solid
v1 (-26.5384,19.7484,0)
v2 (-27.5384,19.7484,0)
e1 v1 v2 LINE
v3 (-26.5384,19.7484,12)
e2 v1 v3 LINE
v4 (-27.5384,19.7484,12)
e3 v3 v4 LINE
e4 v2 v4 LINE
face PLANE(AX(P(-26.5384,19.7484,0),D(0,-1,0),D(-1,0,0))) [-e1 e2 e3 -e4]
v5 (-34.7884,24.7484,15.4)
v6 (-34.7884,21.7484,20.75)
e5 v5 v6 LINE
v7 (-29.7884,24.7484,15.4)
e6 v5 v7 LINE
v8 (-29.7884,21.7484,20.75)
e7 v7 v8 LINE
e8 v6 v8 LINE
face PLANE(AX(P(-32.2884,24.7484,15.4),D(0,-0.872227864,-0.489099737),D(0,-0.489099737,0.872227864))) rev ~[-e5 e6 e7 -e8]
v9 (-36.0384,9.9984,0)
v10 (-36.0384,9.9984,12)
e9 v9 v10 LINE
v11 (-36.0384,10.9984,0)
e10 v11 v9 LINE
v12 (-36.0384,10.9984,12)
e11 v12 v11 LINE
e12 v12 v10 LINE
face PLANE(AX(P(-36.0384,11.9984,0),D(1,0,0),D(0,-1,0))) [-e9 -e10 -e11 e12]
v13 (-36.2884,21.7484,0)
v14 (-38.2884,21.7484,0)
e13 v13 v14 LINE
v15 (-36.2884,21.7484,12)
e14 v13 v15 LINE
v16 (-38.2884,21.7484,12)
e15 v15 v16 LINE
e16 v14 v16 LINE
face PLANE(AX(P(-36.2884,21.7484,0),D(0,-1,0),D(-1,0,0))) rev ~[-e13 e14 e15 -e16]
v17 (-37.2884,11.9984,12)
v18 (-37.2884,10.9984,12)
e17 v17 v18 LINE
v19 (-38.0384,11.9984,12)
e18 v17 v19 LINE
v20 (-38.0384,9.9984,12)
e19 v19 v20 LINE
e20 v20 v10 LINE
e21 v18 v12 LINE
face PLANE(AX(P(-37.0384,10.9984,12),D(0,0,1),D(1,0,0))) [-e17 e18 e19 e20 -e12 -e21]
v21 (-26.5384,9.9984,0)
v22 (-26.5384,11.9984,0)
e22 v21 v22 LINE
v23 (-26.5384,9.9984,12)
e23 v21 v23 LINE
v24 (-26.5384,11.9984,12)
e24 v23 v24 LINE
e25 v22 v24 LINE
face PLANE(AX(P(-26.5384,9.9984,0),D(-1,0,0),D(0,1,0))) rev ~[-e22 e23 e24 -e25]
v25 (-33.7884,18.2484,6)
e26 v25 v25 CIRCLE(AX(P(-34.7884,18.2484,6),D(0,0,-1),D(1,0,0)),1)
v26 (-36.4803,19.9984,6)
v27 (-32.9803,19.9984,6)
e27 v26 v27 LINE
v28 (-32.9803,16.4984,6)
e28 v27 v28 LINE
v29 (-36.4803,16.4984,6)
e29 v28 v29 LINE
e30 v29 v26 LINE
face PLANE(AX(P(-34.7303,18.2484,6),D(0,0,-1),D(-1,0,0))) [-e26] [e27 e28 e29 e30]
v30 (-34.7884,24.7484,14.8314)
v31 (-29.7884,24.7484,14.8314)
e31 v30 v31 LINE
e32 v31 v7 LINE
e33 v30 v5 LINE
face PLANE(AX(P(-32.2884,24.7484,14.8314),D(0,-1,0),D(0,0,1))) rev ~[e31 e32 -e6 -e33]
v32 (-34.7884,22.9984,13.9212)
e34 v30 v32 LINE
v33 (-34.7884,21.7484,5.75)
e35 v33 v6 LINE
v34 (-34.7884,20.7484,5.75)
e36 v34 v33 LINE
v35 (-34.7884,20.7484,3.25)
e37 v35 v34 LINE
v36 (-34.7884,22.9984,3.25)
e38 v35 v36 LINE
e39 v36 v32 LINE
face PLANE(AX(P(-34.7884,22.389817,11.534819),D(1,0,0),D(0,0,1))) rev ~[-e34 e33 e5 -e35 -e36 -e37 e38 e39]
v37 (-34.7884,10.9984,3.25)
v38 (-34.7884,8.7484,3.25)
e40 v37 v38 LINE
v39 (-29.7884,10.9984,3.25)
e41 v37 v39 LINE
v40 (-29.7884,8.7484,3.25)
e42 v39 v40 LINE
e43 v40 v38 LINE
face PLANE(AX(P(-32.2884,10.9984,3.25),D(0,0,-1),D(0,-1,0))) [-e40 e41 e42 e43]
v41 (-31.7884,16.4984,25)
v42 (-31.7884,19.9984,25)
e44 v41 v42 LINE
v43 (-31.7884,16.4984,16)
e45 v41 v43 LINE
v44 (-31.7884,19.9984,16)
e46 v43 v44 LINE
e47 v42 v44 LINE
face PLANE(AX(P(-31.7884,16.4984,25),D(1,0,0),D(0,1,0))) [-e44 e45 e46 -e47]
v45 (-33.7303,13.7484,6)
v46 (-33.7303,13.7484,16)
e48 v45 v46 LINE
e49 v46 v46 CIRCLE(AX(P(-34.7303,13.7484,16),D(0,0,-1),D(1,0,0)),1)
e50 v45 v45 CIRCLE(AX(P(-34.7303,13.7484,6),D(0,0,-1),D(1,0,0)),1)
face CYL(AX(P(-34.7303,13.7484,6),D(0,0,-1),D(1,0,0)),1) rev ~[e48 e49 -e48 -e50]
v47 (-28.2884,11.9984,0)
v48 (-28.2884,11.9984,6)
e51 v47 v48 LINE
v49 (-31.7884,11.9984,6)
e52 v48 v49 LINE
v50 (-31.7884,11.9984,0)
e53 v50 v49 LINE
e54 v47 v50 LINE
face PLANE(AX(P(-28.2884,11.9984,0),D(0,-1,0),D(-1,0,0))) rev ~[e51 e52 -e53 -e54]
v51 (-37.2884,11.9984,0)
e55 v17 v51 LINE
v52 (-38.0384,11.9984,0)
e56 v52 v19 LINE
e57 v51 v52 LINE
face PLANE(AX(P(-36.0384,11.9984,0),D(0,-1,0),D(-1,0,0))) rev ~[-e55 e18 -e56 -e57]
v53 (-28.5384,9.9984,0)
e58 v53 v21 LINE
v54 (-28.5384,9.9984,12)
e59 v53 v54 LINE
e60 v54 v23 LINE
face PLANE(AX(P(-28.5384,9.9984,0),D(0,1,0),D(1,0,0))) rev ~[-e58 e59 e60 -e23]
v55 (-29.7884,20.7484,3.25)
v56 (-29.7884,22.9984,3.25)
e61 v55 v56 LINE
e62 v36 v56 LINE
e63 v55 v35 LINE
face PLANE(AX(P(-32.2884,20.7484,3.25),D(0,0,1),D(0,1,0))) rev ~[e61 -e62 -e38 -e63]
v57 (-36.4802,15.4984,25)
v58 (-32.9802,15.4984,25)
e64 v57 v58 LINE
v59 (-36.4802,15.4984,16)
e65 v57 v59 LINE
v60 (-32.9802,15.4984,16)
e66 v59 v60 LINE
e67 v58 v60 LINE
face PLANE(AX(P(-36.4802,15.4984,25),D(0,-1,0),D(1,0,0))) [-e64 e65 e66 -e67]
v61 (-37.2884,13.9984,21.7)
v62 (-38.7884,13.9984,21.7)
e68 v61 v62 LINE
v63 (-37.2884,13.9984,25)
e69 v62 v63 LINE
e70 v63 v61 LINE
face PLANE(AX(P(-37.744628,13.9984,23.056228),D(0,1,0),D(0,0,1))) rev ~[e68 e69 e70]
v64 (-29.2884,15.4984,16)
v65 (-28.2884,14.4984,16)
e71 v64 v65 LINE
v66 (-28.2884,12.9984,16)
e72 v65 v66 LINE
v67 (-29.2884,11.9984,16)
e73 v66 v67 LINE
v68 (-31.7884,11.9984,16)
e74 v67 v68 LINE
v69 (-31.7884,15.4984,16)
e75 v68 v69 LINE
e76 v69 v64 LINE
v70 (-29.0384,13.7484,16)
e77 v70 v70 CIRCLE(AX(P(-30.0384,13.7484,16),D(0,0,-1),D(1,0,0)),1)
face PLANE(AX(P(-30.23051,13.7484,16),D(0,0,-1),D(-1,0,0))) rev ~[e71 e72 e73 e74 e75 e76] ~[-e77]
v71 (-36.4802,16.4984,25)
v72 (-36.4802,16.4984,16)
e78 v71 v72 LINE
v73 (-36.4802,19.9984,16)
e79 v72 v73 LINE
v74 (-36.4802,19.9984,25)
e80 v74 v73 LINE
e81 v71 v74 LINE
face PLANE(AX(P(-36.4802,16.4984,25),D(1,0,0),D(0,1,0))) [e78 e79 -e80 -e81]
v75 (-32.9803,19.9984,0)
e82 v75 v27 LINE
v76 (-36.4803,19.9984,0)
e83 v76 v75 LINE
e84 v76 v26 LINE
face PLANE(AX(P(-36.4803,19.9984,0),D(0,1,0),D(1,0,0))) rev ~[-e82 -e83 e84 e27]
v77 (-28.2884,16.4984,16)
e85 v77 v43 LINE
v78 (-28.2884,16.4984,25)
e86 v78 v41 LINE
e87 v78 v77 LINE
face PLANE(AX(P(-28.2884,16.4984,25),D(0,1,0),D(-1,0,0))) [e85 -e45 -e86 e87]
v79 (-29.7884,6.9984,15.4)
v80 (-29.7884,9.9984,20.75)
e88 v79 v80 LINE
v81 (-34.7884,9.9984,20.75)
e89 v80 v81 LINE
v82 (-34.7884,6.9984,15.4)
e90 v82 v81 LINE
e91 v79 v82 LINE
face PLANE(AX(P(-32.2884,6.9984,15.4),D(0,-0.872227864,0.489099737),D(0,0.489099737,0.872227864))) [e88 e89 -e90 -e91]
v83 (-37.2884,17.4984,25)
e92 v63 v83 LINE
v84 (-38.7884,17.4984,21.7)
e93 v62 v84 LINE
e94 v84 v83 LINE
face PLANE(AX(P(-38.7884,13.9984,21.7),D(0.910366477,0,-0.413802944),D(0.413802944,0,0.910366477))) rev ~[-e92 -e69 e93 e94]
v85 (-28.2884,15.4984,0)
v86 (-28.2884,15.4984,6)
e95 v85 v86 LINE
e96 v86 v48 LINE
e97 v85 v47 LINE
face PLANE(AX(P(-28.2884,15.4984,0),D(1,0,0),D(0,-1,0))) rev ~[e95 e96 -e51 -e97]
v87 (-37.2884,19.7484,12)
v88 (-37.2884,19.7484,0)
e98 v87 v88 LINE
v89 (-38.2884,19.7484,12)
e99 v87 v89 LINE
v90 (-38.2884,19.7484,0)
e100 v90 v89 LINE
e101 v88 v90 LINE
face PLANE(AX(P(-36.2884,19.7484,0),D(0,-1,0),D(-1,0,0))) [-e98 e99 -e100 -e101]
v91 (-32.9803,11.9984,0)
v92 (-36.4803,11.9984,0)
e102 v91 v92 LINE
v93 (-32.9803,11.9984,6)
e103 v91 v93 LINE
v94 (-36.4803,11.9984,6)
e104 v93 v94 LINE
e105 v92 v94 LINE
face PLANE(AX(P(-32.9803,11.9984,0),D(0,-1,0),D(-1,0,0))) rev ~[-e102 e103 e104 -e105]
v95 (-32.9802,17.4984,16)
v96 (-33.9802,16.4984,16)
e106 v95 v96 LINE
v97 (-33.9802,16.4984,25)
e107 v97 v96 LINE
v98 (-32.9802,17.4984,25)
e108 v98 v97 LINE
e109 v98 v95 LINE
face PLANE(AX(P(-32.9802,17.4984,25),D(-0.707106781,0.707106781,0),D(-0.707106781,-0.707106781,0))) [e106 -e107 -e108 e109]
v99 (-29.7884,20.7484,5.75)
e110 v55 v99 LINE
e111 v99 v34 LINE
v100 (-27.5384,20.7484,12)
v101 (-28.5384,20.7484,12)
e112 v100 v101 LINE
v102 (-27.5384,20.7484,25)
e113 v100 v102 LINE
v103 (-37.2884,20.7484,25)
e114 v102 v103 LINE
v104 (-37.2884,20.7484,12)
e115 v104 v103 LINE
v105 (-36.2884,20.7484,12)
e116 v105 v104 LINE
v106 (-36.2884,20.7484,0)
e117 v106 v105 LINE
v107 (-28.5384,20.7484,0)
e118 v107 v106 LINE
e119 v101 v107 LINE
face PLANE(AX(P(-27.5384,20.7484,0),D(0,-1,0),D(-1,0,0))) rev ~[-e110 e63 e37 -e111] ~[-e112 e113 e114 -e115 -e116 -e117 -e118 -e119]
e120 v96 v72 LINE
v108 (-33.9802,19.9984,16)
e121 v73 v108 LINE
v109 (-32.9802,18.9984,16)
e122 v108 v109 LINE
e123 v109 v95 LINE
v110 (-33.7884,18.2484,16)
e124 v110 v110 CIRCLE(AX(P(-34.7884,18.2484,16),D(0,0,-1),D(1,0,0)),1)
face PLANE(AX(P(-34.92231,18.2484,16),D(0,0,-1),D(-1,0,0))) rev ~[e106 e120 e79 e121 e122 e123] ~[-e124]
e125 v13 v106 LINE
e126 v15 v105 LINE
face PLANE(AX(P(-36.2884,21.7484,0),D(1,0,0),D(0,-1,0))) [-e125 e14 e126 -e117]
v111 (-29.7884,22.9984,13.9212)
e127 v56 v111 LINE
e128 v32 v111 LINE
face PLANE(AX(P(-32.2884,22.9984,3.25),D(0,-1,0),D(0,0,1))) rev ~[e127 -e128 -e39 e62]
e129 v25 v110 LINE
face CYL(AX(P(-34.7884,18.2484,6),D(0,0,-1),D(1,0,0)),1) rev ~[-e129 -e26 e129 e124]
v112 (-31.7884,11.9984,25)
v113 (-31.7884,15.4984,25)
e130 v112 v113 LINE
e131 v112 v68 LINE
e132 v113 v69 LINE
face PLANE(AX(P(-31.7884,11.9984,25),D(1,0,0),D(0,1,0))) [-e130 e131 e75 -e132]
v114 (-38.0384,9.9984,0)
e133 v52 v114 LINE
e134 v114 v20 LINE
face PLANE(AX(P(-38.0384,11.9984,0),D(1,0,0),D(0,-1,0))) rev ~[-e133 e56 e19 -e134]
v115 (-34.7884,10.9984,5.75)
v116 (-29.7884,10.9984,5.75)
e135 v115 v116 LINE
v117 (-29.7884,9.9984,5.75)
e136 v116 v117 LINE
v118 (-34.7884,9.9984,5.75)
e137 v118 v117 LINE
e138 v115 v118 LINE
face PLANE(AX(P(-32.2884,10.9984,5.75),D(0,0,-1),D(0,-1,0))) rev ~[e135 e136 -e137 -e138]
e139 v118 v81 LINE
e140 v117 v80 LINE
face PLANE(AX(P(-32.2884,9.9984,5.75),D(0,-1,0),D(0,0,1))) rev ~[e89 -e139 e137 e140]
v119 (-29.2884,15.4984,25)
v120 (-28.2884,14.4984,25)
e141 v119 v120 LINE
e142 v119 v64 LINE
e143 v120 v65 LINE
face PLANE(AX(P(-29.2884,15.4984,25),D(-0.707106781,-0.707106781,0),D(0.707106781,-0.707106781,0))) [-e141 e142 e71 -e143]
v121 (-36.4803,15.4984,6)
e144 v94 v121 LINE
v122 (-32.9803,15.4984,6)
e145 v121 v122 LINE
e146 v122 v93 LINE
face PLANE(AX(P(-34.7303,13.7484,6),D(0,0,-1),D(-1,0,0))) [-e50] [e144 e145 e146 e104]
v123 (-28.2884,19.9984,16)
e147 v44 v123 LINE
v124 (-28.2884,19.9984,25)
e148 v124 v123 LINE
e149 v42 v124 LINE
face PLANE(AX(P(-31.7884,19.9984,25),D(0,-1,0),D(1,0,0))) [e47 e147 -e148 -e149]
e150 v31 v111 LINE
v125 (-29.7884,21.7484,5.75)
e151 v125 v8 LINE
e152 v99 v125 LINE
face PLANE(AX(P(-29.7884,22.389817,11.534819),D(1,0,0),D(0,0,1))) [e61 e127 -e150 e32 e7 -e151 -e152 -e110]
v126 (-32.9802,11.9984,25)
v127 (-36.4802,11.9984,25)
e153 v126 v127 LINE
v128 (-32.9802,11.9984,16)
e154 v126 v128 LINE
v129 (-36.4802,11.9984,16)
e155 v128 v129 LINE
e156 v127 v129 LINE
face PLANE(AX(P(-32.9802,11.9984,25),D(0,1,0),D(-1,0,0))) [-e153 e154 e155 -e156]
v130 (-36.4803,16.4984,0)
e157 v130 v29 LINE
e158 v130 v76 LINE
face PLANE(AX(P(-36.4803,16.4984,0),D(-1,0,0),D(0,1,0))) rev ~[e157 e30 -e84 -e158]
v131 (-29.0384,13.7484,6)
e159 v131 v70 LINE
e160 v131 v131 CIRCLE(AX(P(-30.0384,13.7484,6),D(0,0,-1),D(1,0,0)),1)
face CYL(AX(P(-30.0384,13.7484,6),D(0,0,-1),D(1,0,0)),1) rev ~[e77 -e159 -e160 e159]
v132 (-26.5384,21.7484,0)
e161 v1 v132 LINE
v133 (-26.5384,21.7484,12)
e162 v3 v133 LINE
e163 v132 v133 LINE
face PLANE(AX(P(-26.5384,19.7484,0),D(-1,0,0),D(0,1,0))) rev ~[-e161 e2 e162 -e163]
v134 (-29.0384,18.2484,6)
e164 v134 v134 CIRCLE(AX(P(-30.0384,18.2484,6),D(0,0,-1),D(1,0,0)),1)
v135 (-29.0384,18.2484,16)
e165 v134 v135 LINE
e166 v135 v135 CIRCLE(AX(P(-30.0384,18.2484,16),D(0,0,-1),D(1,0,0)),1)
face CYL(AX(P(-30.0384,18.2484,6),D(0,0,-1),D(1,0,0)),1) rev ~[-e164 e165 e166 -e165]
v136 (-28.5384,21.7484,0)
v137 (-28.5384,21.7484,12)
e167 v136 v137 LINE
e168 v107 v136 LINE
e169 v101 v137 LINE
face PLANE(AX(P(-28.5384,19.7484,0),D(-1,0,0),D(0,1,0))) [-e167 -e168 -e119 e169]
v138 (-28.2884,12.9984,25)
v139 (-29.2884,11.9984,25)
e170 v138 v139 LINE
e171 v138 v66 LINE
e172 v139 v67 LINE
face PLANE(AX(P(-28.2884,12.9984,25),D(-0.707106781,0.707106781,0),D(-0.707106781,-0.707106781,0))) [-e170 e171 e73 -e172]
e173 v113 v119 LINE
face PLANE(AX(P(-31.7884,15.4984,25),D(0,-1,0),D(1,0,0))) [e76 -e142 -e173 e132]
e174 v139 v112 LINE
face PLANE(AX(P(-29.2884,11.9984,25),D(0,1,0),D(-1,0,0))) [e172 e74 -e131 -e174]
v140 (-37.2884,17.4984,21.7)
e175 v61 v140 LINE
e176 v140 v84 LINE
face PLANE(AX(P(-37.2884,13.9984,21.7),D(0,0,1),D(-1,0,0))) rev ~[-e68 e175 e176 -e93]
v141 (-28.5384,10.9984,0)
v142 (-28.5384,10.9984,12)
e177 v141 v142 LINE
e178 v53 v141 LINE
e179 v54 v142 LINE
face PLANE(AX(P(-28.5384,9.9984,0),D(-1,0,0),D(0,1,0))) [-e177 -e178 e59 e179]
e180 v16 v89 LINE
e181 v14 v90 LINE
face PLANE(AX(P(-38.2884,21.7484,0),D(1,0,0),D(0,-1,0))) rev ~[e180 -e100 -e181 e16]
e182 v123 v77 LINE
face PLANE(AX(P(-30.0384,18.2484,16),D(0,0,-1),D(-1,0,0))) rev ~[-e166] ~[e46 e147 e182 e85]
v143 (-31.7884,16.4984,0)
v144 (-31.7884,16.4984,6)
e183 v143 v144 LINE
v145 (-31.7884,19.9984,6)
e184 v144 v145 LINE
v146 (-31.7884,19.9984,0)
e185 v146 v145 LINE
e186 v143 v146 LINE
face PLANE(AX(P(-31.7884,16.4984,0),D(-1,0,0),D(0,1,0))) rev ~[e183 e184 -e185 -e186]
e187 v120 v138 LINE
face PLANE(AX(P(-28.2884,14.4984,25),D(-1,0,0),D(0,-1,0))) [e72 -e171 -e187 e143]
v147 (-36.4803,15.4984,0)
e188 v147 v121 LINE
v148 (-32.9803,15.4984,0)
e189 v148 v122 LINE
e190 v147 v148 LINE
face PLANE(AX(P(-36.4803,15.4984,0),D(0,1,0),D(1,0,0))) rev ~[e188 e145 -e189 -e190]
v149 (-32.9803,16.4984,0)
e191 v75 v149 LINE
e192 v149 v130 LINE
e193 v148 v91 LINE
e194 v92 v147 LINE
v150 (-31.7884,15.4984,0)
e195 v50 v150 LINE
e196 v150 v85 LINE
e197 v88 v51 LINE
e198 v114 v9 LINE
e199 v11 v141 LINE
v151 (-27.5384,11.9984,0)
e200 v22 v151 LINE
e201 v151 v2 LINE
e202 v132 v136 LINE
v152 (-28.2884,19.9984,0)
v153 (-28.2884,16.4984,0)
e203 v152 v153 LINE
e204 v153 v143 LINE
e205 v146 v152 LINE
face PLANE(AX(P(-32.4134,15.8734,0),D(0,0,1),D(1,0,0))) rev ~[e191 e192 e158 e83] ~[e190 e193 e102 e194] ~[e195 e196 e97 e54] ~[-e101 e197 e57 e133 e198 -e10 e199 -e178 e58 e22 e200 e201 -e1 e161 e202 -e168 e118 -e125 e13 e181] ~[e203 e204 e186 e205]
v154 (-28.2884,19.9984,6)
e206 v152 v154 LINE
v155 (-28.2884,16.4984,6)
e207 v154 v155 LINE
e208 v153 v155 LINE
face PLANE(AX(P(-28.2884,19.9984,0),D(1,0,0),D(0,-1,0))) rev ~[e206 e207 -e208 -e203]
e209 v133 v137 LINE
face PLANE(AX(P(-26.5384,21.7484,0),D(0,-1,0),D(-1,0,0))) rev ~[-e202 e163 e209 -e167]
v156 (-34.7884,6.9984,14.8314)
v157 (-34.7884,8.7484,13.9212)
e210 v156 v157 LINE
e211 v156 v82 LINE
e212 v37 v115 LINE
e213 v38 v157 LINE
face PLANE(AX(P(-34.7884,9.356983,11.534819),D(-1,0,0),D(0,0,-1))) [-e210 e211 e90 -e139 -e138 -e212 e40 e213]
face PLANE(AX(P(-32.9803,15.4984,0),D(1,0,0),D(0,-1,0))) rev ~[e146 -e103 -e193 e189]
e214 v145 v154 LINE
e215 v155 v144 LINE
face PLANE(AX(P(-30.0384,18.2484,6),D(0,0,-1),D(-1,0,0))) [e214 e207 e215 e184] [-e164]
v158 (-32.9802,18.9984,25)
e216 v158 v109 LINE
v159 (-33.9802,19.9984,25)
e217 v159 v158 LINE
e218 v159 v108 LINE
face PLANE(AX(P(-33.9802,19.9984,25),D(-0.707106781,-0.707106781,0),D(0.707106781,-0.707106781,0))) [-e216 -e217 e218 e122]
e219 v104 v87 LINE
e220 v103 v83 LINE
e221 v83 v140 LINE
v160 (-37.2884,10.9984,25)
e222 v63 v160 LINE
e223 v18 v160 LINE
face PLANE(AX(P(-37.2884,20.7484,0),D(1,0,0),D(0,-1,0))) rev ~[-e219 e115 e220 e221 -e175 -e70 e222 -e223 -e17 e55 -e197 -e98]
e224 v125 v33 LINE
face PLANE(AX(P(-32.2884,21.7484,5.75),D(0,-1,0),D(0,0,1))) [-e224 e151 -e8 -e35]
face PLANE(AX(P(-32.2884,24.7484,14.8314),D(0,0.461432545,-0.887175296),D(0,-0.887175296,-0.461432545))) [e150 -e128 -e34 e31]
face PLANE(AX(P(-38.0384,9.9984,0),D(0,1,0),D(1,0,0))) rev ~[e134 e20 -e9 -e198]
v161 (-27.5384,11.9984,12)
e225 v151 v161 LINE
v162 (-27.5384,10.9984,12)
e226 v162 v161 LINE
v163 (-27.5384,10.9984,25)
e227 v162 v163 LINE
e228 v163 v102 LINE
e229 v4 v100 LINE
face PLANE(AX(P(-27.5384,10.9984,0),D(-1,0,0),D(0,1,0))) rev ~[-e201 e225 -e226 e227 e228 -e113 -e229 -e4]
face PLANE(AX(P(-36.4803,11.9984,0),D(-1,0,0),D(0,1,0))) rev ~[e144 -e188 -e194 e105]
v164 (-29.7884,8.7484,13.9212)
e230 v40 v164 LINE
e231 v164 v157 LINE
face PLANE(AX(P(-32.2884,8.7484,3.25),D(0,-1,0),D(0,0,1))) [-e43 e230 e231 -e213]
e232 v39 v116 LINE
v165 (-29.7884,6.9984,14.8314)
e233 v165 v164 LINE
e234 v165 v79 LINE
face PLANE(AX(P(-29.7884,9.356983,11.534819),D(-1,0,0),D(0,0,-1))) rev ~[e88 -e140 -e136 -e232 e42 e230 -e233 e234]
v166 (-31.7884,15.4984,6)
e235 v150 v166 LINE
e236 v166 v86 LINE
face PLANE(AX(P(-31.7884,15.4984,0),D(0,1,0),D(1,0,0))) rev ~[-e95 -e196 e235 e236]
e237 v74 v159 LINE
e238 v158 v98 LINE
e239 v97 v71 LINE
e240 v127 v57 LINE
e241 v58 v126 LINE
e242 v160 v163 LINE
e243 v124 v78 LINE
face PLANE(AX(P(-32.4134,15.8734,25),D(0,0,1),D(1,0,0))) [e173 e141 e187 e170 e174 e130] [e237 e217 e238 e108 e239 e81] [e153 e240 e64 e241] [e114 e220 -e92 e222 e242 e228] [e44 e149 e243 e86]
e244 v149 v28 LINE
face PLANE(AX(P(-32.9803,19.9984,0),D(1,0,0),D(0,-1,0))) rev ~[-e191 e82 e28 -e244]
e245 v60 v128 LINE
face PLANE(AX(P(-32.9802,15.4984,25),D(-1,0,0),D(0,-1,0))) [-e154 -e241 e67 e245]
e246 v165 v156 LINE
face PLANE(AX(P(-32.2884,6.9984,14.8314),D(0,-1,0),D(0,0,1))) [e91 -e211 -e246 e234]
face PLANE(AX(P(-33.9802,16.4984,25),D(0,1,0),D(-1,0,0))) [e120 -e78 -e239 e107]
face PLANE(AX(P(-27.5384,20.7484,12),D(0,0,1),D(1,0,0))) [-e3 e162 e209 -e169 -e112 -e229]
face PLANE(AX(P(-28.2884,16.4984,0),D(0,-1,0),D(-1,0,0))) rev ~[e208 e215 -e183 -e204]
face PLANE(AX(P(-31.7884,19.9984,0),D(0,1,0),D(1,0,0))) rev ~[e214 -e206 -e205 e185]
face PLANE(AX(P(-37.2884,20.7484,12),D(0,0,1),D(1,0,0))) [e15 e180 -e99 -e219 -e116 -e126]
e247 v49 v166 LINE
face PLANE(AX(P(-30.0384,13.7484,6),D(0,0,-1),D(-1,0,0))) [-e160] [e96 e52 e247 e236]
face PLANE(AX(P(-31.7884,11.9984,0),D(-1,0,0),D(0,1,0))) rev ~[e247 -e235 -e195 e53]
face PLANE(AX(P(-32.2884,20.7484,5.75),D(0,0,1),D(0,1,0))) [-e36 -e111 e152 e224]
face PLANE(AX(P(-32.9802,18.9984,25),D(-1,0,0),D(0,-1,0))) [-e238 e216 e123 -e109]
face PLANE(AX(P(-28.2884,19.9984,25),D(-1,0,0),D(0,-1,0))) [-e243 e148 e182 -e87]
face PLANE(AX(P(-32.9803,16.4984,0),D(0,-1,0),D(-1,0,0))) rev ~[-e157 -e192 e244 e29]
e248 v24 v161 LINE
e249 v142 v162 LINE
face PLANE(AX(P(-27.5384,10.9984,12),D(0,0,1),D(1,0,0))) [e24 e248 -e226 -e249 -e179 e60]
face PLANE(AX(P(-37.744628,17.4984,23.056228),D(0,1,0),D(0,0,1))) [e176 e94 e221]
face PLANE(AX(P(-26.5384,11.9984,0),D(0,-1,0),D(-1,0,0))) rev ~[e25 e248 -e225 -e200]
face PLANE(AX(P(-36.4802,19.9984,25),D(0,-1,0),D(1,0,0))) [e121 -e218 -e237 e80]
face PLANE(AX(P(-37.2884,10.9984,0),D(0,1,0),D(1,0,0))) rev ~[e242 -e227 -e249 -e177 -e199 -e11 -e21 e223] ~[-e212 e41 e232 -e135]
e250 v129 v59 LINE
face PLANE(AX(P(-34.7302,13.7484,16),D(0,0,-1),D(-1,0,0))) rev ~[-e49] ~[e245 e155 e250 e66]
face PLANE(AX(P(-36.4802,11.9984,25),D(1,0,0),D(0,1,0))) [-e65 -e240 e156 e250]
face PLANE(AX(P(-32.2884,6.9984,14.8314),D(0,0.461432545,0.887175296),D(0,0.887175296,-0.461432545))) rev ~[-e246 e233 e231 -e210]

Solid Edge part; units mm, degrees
sketch "Sketch1" plane through (0, 0, 0) normal (0, 0, 1) x (1, 0, 0)
  line L0 (-37.2884, 10.9984) -> (-27.5384, 10.9984)
  line L1 (-27.5384, 10.9984) -> (-27.5384, 20.7484)
  line L2 (-27.5384, 20.7484) -> (-37.2884, 20.7484)
  line L3 (-37.2884, 20.7484) -> (-37.2884, 10.9984)
  dimension "D1" = 9.75
  dimension "D2" = 9.75
extrude "Protrusion1" add sketch "Sketch1" along normal blind 25
sketch "Sketch2" plane through (-32.5384, 13.9984, 12.5) normal (0, -1, 0) x (0, 0, 1)
  line L0 (12.5, 4.75) -> (9.2, 4.75)
  line L1 (9.2, 4.75) -> (9.2, 6.25)
  line L2 (9.2, 6.25) -> (12.5, 4.75)
extrude "ExtrudedProtrusion_3" add sketch "Sketch2" against normal blind 3.5
sketch "Sketch3" plane through (-32.5384, 17.4984, 0) normal (0, 0, -1) x (0, 1, 0)
  line L0 (4.25, -3.75) -> (4.25, -5.75)
  line L1 (4.25, -5.75) -> (2.25, -5.75)
  line L2 (2.25, -3.75) -> (2.25, -5.75)
  line L3 (4.25, -3.75) -> (2.25, -3.75)
  line L4 (-5.5, -5.5) -> (-7.5, -5.5)
  line L5 (-7.5, -5.5) -> (-7.5, -3.5)
  line L6 (-5.5, -3.5) -> (-7.5, -3.5)
  line L7 (-5.5, -3.5) -> (-5.5, -5.5)
  line L8 (-7.5, 4) -> (-7.5, 6)
  line L9 (-7.5, 6) -> (-5.5, 6)
  line L10 (-5.5, 6) -> (-5.5, 4)
  line L11 (-7.5, 4) -> (-5.5, 4)
  line L12 (2.25, 6) -> (4.25, 6)
  line L13 (4.25, 6) -> (4.25, 4)
  line L14 (2.25, 4) -> (4.25, 4)
  line L15 (2.25, 6) -> (2.25, 4)
  dimension "D1" = 11.5
  dimension "D2" = 2
  dimension "D3" = 2
  dimension "D4" = 2
  dimension "D5" = 2
  dimension "D6" = 2
  dimension "D7" = 2
  dimension "D8" = 2
  dimension "D9" = 1
  dimension "D10" = 1
  dimension "D11" = 11.75
  dimension "D12" = 11.75
  dimension "D13" = 1
  dimension "D14" = 2
  dimension "D15" = 1
extrude "ExtrudedProtrusion_4" add sketch "Sketch3" against normal blind 12
sketch "Sketch4" plane through (-32.2884, 17.4984, 12.5) normal (1, 0, 0) x (0, -1, 0)
  line L0 (6.5, 9.25) -> (8.75, 9.25)
  line L1 (8.75, 9.25) -> (8.75, -1.4212)
  line L2 (10.5, -2.3314) -> (8.75, -1.4212)
  line L3 (10.5, -2.3314) -> (10.5, -2.9)
  line L4 (10.5, -2.9) -> (7.5, -8.25)
  line L5 (7.5, 6.75) -> (7.5, -8.25)
  line L6 (6.5, 6.75) -> (7.5, 6.75)
  line L7 (6.5, 9.25) -> (6.5, 6.75)
  line L8 (-3.25, 9.25) -> (-5.5, 9.25)
  line L9 (-5.5, 9.25) -> (-5.5, -1.4212)
  line L10 (-7.25, -2.3314) -> (-5.5, -1.4212)
  line L11 (-7.25, -2.3314) -> (-7.25, -2.9)
  line L12 (-7.25, -2.9) -> (-4.25, -8.25)
  line L13 (-4.25, 6.75) -> (-4.25, -8.25)
  line L14 (-3.25, 6.75) -> (-4.25, 6.75)
  line L15 (-3.25, 9.25) -> (-3.25, 6.75)
  dimension "D1" = 3.25
  dimension "D2" = 2.5
  dimension "D3" = 3
extrude "ExtrudedProtrusion_5" add sketch "Sketch4" along normal mid plane 5
sketch "Sketch5" plane through (-32.5384, 17.4984, 25) normal (0, 0, 1) x (0, 1, 0)
  line L0 (-1, -0.75) -> (2.5, -0.75)
  line L1 (2.5, -0.75) -> (2.5, -4.25)
  line L2 (2.5, -4.25) -> (-1, -4.25)
  line L3 (-1, -4.25) -> (-1, -0.75)
  line L4 (-1, 3.9418) -> (2.5, 3.9418)
  line L5 (2.5, 3.9418) -> (2.5, 1.4418)
  line L6 (2.5, 1.4418) -> (1.5, 0.4418)
  line L7 (1.5, 0.4418) -> (0, 0.4418)
  line L8 (0, 0.4418) -> (-1, 1.4418)
  line L9 (-1, 1.4418) -> (-1, 3.9418)
  line L10 (-5.5, 3.9418) -> (-2, 3.9418)
  line L11 (-2, 3.9418) -> (-2, 0.4418)
  line L12 (-2, 0.4418) -> (-5.5, 0.4418)
  line L13 (-5.5, 0.4418) -> (-5.5, 3.9418)
  line L14 (-5.5, -0.75) -> (-2, -0.75)
  line L15 (-2, -0.75) -> (-2, -3.25)
  line L16 (-2, -3.25) -> (-3, -4.25)
  line L17 (-3, -4.25) -> (-4.5, -4.25)
  line L18 (-4.5, -4.25) -> (-5.5, -3.25)
  line L19 (-5.5, -3.25) -> (-5.5, -0.75)
  dimension "D1" = 3.5
  dimension "D2" = 3.5
  dimension "D3" = 1
  dimension "D4" = 0.75
  dimension "D5" = 3.5
  dimension "D6" = 3.5
  dimension "D7" = 2.5
  dimension "D8" = 3.5
  dimension "D9" = 3.5
  dimension "D10" = 3.5
  dimension "D11" = 1
  dimension "D12" = 1
  dimension "D13" = 1
extrude "ExtrudedCutout_1" cut sketch "Sketch5" against normal blind 9
sketch "Sketch6" plane through (-32.5384, 17.4984, 0) normal (0, 0, -1) x (-1, 0, 0)
  line L0 (3.9419, -2) -> (0.4419, -2)
  line L1 (0.4419, -2) -> (0.4419, -5.5)
  line L2 (0.4419, -5.5) -> (3.9419, -5.5)
  line L3 (3.9419, -5.5) -> (3.9419, -2)
  line L4 (-0.75, -2) -> (-4.25, -2)
  line L5 (-4.25, -2) -> (-4.25, -5.5)
  line L6 (-4.25, -5.5) -> (-0.75, -5.5)
  line L7 (-0.75, -5.5) -> (-0.75, -2)
  line L8 (-0.75, 2.5) -> (-4.25, 2.5)
  line L9 (-4.25, 2.5) -> (-4.25, -1)
  line L10 (-4.25, -1) -> (-0.75, -1)
  line L11 (-0.75, -1) -> (-0.75, 2.5)
  line L12 (3.9419, 2.5) -> (0.4419, 2.5)
  line L13 (0.4419, 2.5) -> (0.4419, -1)
  line L14 (0.4419, -1) -> (3.9419, -1)
  line L15 (3.9419, -1) -> (3.9419, 2.5)
extrude "ExtrudedCutout_2" cut sketch "Sketch6" against normal blind 6
sketch "Sketch7" plane through (-34.7303, 13.7484, 6) normal (0, 0, -1) x (1, 0, 0)
  circle A0 centre (0, 0) radius 1
  circle A1 centre (4.6919, 0) radius 1
  circle A2 centre (4.6919, -4.5) radius 1
  circle A3 centre (-0.0581, -4.5) radius 1
extrude "Cutout1" cut sketch "Sketch7" against normal through all
